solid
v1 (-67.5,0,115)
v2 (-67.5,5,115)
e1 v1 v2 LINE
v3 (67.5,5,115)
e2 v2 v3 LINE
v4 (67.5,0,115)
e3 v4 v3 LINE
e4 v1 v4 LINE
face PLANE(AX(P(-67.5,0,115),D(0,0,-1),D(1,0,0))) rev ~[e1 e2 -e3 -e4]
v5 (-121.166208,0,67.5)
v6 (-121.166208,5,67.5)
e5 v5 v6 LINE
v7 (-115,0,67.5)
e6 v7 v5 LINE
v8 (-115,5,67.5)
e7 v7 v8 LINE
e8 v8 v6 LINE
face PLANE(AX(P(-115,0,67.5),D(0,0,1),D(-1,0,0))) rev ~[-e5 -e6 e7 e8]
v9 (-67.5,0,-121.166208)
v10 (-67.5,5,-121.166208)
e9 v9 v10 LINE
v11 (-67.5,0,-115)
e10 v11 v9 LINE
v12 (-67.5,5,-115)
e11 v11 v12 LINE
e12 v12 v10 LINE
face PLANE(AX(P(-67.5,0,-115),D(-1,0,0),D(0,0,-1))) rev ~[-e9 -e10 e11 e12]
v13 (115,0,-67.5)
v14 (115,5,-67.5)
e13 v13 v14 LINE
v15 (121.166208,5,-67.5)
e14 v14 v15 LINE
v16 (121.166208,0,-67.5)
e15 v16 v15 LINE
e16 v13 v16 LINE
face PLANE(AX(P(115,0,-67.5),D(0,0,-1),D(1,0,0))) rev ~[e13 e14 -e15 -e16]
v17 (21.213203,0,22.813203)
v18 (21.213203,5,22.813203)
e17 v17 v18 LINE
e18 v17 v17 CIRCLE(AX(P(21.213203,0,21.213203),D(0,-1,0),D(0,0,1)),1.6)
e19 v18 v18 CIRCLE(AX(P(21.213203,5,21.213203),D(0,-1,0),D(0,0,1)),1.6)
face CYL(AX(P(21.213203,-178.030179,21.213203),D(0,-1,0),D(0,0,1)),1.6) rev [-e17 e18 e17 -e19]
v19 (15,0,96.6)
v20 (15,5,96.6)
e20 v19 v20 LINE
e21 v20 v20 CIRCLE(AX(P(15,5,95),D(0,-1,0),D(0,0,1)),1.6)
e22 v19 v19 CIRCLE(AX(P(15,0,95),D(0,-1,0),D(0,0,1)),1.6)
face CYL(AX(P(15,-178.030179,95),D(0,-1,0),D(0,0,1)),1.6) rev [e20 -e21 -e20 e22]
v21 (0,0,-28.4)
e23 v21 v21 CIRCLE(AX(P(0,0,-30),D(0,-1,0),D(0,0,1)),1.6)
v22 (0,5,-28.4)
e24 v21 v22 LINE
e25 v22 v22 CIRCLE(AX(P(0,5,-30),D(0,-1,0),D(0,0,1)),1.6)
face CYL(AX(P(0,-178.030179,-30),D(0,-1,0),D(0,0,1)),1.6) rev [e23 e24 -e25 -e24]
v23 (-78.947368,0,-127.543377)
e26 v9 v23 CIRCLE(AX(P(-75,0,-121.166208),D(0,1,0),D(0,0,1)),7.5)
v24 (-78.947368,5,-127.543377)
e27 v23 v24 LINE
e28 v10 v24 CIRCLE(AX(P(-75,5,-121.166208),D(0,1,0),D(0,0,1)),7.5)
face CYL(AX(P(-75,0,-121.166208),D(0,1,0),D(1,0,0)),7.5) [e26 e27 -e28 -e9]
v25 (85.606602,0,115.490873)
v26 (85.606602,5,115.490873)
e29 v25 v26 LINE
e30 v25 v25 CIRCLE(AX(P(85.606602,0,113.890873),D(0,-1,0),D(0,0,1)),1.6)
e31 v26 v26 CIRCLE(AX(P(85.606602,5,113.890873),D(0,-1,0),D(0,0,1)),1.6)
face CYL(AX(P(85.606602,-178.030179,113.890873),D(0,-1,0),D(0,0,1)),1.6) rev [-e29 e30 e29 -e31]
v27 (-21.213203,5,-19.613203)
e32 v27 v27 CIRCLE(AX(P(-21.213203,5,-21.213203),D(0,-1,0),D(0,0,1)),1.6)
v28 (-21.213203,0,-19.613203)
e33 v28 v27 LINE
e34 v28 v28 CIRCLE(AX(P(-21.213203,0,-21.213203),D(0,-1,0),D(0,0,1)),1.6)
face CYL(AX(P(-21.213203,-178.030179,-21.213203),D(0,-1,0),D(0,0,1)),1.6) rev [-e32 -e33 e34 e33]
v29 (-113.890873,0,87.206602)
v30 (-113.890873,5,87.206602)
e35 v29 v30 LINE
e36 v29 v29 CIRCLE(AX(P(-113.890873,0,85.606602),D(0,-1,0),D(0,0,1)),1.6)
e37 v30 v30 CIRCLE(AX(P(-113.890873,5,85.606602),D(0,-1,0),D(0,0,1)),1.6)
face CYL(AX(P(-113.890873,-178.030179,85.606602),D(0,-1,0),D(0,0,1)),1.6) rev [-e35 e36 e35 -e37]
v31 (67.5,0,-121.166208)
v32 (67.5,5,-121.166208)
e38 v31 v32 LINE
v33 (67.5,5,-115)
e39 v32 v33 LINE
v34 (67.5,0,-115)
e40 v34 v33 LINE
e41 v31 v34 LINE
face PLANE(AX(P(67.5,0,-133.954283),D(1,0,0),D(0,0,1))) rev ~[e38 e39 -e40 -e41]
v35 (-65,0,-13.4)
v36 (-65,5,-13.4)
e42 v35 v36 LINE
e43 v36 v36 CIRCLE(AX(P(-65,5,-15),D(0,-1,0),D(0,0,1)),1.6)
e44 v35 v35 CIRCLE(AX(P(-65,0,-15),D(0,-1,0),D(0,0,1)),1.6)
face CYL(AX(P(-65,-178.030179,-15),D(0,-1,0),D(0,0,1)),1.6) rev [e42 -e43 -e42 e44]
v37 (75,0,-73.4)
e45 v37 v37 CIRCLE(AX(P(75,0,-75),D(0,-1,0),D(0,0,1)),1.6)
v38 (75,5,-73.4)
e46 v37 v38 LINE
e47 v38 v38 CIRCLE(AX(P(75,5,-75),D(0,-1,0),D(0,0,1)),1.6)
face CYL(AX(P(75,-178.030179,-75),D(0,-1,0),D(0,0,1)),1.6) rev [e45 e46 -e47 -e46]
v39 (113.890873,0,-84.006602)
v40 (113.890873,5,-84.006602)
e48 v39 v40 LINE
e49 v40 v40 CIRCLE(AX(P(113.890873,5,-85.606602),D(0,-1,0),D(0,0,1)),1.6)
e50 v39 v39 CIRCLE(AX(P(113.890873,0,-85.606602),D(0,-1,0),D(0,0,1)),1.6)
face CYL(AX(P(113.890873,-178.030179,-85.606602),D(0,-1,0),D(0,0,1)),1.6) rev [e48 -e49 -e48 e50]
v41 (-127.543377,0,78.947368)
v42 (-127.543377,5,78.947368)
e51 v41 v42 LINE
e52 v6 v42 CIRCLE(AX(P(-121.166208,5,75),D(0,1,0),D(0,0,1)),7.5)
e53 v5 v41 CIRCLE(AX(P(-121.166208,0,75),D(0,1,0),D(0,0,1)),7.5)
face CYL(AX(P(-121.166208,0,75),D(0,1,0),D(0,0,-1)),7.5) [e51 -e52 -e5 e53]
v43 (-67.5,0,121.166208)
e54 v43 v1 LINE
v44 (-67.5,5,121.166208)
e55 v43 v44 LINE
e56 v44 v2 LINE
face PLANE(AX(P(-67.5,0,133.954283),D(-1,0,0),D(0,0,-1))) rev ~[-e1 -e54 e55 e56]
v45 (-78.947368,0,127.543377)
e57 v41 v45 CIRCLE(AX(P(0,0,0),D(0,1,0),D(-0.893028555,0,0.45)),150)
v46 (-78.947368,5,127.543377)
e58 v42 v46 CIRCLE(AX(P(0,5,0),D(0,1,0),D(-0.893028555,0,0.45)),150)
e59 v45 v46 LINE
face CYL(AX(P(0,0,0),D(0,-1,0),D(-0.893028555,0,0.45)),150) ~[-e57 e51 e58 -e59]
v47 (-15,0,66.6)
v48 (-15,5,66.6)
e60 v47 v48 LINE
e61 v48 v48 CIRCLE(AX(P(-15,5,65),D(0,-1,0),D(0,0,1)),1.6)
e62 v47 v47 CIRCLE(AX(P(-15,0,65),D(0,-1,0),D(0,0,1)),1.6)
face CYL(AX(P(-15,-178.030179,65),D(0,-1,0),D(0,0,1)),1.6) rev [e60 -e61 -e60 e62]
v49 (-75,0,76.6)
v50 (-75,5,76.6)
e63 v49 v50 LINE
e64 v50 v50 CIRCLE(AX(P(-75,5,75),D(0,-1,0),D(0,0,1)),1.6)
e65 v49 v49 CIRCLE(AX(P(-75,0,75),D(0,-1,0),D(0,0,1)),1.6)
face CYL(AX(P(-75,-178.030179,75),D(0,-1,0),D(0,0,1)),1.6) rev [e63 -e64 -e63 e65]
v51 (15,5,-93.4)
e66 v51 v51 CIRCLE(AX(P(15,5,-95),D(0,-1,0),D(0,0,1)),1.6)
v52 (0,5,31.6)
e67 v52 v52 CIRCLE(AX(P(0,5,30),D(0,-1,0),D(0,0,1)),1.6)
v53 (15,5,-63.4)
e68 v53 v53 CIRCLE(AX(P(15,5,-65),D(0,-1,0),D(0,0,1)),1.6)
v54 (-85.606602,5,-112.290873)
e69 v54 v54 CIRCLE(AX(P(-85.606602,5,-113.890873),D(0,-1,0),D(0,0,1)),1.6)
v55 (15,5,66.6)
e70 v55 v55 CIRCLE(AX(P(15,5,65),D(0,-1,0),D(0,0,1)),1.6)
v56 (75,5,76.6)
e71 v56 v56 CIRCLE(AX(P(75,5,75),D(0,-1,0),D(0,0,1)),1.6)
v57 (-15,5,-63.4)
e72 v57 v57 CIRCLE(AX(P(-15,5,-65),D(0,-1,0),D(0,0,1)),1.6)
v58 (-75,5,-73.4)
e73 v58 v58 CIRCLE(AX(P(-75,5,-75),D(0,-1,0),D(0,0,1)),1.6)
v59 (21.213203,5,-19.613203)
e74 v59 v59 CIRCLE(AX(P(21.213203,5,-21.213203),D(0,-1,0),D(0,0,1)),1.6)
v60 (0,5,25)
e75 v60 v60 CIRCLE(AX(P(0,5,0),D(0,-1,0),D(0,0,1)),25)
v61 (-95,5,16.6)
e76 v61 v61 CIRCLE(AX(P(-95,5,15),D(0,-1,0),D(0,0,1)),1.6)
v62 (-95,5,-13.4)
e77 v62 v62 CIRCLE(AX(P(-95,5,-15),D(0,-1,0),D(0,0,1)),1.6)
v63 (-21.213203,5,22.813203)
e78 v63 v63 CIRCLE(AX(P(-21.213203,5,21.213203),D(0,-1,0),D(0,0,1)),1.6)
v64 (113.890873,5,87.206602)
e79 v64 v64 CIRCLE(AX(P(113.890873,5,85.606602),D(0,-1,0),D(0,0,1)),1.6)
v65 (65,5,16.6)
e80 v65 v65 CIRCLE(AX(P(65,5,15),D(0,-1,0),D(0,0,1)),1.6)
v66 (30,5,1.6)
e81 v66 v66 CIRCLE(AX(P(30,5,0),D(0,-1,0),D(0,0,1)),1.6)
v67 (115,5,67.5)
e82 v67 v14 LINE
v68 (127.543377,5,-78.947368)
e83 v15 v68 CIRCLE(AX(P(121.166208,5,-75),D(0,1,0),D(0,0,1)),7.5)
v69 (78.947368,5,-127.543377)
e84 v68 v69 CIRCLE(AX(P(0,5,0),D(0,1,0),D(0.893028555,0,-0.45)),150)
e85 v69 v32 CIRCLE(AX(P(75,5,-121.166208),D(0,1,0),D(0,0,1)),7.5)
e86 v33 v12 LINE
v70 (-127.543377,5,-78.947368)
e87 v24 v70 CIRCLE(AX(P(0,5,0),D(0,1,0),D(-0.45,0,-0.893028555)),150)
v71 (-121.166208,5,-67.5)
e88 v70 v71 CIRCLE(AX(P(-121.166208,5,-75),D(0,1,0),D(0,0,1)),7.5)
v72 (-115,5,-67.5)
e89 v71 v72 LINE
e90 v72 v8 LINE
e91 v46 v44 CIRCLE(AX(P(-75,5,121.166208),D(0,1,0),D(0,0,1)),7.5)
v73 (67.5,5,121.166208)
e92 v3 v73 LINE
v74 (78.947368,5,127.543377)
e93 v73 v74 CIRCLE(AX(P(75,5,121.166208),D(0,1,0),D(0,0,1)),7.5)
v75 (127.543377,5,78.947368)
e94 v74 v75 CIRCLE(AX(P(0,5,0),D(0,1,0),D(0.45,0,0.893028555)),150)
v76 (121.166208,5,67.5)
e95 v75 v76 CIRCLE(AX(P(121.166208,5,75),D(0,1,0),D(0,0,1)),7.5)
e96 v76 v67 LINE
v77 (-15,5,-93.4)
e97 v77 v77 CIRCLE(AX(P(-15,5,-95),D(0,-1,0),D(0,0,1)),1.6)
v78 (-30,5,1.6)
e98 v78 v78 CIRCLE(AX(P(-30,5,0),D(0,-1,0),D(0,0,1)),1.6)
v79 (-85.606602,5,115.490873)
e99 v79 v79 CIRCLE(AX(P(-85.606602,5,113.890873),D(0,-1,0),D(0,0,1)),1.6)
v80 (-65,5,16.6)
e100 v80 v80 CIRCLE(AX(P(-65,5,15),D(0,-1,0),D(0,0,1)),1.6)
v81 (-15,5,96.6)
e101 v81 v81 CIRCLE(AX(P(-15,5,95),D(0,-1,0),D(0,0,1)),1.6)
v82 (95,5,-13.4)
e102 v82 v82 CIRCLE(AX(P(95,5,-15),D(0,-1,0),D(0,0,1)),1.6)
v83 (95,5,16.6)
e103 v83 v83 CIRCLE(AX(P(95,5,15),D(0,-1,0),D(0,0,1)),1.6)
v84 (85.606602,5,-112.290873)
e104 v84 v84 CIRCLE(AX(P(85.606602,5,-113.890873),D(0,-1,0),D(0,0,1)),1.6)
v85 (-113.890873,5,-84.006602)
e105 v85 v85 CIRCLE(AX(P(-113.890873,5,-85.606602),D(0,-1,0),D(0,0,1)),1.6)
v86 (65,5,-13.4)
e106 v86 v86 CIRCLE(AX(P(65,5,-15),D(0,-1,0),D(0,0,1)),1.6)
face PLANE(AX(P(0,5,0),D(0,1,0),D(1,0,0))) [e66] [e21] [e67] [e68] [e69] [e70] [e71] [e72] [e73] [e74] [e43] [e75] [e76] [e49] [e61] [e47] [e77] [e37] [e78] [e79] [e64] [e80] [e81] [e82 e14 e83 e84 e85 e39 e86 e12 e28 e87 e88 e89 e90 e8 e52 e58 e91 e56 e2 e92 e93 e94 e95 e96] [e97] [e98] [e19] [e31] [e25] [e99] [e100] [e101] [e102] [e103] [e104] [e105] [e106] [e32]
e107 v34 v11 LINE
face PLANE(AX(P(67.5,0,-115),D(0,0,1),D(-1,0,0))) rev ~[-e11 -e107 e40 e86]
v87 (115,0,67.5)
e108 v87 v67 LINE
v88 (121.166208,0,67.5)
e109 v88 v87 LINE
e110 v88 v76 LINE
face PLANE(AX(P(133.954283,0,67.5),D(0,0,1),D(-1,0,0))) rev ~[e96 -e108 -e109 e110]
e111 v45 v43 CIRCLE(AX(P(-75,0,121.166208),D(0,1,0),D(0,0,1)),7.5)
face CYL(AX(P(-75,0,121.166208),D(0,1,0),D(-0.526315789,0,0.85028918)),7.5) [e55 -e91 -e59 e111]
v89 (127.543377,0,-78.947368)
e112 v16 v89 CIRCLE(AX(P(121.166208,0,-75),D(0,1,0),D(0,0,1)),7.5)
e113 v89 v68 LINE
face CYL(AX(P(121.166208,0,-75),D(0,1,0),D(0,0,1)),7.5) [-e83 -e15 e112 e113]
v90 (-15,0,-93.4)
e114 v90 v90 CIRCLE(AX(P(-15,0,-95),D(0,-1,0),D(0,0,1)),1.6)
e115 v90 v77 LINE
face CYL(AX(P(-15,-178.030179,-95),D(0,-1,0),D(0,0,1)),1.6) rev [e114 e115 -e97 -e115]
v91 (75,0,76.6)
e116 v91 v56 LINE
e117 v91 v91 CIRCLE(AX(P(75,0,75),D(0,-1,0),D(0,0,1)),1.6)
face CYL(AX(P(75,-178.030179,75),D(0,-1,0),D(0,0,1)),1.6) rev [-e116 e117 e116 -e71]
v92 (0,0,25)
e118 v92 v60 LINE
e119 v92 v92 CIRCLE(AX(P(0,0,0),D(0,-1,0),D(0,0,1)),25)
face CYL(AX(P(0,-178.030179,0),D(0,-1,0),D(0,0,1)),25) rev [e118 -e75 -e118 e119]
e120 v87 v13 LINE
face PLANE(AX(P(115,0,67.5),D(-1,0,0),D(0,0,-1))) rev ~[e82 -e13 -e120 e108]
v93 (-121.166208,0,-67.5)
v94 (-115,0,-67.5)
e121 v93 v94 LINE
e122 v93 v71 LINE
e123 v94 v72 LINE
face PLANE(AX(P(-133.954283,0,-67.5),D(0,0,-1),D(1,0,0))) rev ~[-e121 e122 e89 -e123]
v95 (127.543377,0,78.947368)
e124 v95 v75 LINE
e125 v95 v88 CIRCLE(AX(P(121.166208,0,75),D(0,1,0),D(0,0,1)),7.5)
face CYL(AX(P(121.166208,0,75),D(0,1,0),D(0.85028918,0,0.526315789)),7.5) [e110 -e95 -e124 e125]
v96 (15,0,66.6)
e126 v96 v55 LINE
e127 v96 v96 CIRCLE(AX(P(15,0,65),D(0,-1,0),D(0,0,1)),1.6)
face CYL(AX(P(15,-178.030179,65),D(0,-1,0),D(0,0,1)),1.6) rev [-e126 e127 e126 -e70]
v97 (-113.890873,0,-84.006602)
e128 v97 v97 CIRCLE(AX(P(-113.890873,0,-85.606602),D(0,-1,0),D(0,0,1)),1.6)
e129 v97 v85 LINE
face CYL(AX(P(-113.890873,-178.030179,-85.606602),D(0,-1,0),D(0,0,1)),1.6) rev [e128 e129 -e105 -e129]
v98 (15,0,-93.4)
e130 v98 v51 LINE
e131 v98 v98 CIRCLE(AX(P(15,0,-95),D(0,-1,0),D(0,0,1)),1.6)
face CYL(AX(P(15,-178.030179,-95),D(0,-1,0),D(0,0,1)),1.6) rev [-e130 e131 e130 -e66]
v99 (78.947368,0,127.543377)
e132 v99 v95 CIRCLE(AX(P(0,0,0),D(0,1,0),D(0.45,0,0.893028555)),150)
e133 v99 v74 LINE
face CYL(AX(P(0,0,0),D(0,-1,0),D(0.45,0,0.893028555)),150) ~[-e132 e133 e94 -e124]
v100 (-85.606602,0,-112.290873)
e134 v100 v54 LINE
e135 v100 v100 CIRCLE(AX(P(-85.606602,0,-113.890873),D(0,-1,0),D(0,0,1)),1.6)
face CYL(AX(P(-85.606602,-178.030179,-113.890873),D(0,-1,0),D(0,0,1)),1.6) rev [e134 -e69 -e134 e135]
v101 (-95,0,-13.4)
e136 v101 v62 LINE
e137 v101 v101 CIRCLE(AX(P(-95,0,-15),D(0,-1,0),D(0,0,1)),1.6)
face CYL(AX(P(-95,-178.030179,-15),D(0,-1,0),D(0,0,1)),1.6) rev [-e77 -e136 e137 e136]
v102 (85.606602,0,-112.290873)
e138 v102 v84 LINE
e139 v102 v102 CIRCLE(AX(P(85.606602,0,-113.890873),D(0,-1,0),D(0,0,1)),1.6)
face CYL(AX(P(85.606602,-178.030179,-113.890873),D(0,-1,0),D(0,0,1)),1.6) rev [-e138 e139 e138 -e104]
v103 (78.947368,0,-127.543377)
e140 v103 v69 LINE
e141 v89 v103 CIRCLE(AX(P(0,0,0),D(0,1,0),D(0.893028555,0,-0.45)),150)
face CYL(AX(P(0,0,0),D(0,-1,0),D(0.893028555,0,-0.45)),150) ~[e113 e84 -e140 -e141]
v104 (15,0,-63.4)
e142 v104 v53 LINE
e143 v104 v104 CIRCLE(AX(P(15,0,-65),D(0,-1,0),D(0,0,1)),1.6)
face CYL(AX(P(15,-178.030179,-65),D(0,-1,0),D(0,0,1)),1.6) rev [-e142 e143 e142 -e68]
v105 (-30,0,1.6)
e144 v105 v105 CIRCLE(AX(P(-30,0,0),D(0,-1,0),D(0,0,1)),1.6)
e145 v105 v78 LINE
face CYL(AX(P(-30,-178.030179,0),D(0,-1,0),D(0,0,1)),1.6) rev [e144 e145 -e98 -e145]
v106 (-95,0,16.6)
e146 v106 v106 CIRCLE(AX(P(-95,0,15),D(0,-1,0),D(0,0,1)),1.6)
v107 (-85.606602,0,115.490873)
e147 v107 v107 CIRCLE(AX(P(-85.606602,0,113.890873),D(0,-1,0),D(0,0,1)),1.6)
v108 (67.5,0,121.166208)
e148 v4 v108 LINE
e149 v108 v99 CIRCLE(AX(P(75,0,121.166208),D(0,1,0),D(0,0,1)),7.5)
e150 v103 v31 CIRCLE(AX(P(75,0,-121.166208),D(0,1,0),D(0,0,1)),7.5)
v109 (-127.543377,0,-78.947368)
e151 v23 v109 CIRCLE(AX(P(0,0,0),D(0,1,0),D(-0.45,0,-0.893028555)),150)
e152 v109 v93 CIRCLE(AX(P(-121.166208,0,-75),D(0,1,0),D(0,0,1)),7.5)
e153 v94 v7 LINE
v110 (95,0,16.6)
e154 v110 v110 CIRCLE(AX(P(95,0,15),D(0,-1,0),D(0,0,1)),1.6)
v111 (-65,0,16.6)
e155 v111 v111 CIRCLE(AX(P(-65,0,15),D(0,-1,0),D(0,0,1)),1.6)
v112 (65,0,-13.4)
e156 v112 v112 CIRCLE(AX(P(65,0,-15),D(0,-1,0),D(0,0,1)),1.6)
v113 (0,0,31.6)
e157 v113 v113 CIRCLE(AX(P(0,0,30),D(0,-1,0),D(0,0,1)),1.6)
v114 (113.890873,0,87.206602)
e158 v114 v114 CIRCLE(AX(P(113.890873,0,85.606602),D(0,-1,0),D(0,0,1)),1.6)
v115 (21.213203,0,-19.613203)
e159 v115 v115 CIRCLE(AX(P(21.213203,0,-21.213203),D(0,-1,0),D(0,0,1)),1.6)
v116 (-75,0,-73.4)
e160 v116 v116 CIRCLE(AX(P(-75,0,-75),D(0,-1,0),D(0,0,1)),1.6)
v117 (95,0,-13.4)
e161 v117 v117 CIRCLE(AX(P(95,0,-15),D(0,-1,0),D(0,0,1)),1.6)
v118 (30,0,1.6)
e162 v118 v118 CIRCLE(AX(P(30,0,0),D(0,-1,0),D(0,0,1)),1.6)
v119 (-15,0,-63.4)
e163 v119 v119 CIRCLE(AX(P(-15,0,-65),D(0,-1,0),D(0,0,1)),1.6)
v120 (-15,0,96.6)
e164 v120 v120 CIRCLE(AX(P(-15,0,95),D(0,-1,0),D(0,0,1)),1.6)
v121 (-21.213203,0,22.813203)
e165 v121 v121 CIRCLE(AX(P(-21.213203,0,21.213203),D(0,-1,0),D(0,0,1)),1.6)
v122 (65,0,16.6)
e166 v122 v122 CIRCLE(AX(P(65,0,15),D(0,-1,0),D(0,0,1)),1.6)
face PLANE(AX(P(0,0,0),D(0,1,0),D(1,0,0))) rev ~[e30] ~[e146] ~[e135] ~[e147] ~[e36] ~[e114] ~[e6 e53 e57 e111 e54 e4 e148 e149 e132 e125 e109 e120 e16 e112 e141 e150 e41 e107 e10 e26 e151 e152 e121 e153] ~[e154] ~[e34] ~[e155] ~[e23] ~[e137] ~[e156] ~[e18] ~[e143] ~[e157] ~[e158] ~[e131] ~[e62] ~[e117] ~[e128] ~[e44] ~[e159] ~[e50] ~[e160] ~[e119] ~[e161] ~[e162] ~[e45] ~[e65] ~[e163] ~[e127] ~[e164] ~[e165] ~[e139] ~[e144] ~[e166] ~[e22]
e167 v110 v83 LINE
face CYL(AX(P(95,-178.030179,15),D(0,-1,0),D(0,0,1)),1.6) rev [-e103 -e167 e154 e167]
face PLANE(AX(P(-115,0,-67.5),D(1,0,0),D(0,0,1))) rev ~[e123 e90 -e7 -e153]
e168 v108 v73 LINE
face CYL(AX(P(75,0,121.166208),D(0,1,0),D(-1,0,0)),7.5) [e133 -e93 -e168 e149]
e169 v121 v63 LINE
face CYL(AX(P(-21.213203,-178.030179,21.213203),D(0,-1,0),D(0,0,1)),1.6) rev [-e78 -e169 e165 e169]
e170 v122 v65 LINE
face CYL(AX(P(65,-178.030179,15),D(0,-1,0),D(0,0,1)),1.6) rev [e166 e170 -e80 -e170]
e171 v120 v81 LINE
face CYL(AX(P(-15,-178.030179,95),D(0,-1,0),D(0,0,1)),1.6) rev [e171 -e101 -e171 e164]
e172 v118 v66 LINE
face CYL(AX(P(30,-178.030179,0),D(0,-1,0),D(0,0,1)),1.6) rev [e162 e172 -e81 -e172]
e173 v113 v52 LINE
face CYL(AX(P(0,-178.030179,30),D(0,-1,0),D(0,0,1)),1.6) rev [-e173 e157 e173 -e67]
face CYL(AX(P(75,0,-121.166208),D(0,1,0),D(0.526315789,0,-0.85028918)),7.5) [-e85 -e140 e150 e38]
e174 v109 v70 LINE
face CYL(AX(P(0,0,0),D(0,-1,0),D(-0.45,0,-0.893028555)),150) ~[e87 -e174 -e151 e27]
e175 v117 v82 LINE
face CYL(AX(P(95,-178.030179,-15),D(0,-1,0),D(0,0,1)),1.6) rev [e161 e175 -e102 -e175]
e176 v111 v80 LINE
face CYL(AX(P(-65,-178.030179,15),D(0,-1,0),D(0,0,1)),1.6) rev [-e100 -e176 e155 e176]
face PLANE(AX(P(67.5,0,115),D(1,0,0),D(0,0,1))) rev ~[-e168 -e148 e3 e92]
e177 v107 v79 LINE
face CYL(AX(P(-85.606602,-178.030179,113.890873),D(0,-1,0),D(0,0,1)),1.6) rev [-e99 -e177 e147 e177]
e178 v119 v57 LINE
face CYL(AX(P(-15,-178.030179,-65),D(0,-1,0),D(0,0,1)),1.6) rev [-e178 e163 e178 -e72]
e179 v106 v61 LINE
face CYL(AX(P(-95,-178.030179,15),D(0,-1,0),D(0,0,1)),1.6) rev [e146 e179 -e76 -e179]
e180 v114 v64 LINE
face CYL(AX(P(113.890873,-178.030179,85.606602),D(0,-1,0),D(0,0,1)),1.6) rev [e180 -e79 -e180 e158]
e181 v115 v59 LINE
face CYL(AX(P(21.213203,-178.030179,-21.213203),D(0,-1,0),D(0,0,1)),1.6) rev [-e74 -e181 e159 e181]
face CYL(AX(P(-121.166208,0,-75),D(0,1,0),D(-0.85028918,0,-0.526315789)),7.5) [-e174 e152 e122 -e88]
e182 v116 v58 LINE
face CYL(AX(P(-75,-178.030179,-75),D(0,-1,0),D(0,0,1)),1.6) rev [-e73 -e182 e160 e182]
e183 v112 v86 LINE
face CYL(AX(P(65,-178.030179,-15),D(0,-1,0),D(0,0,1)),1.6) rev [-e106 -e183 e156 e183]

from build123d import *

# Parameters (mm, degrees)
BOSS_EXTRUDE1_DEPTH     = 5
FILLET1_R               = 7.5
CUT_EXTRUDE2_DEPTH      = 183.030179489
CUT_EXTRUDE2_DEPTH_BACK = 183.030179489
SKETCH3_R               = 1.6
CUT_EXTRUDE3_DEPTH      = 183.030179489
CUT_EXTRUDE3_DEPTH_BACK = 183.030179489
SKETCH4_R               = 25
SKETCH4_R_2             = 1.6
CUT_EXTRUDE4_DEPTH      = 183.030179489
CUT_EXTRUDE4_DEPTH_BACK = 183.030179489
SKETCH5_R               = 1.6
CUT_EXTRUDE5_DEPTH      = 183.030179489
CUT_EXTRUDE5_DEPTH_BACK = 183.030179489
SKETCH6_R               = 1.6


with BuildPart() as part:
    # Sketch1 → Boss-Extrude1 (new body)
    with BuildSketch(Plane(origin=(0, 0, 0), x_dir=(1, 0, 0), z_dir=(0, 1, 0))):
        with BuildLine():
            Line((115, 67.5), (133.954283246, 67.5))
            ThreePointArc((133.954283246, 67.5), (106.066017178, 106.066017178), (67.5, 133.954283246))
            Line((67.5, 133.954283246), (67.5, 115))
            Line((67.5, 115), (-67.5, 115))
            Line((-67.5, 115), (-67.5, 133.954283246))
            ThreePointArc((-67.5, 133.954283246), (-106.066017178, 106.066017178), (-133.954283246, 67.5))
            Line((-133.954283246, 67.5), (-115, 67.5))
            Line((-115, 67.5), (-115, -67.5))
            Line((-115, -67.5), (-133.954283246, -67.5))
            ThreePointArc((-133.954283246, -67.5), (-106.066017178, -106.066017178), (-67.5, -133.954283246))
            Line((-67.5, -133.954283246), (-67.5, -115))
            Line((-67.5, -115), (67.5, -115))
            Line((67.5, -115), (67.5, -133.954283246))
            ThreePointArc((67.5, -133.954283246), (106.066017178, -106.066017178), (133.954283246, -67.5))
            Line((133.954283246, -67.5), (115, -67.5))
            Line((115, -67.5), (115, 67.5))
        make_face()
    extrude(amount=BOSS_EXTRUDE1_DEPTH)

    # Fillet1
    fillet1_edges = [part.edges().sort_by_distance(p)[0] for p in [
        (-67.5, 2.5, 133.954283246),
        (-133.954283246, 2.5, 67.5),
        (-133.954283246, 2.5, -67.5),
        (-67.5, 2.5, -133.954283246),
        (67.5, 2.5, -133.954283246),
        (133.954283246, 2.5, -67.5),
        (133.954283246, 2.5, 67.5),
        (67.5, 2.5, 133.954283246),
    ]]
    fillet(fillet1_edges, radius=FILLET1_R)

    # Sketch3 → Cut-Extrude2 (cut, two sides: drawn at the far end of the back side and taken through both)
    with BuildSketch(Plane(origin=(0, 5, 0), x_dir=(1, 0, 0), z_dir=(0, 1, 0)).offset(-CUT_EXTRUDE2_DEPTH_BACK)):
        with Locations(Location((-15, -95, 0), (0, 0, 270))):
            Circle(SKETCH3_R)
        with Locations(Location((-15, -65, 0), (0, 0, 270))):
            Circle(SKETCH3_R)
        with Locations(Location((15, -65, 0), (0, 0, 270))):
            Circle(SKETCH3_R)
        with Locations(Location((15, -95, 0), (0, 0, 270))):
            Circle(SKETCH3_R)
        with Locations(Location((-65, 15, 0), (0, 0, 270))):
            Circle(SKETCH3_R)
        with Locations(Location((-65, -15, 0), (0, 0, 270))):
            Circle(SKETCH3_R)
        with Locations(Location((-95, -15, 0), (0, 0, 270))):
            Circle(SKETCH3_R)
        with Locations(Location((-95, 15, 0), (0, 0, 270))):
            Circle(SKETCH3_R)
        with Locations(Location((15, 65, 0), (0, 0, 270))):
            Circle(SKETCH3_R)
        with Locations(Location((-15, 65, 0), (0, 0, 270))):
            Circle(SKETCH3_R)
        with Locations(Location((-15, 95, 0), (0, 0, 270))):
            Circle(SKETCH3_R)
        with Locations(Location((15, 95, 0), (0, 0, 270))):
            Circle(SKETCH3_R)
        with Locations(Location((65, -15, 0), (0, 0, 270))):
            Circle(SKETCH3_R)
        with Locations(Location((65, 15, 0), (0, 0, 270))):
            Circle(SKETCH3_R)
        with Locations(Location((95, 15, 0), (0, 0, 270))):
            Circle(SKETCH3_R)
        with Locations(Location((95, -15, 0), (0, 0, 270))):
            Circle(SKETCH3_R)
    extrude(amount=CUT_EXTRUDE2_DEPTH + CUT_EXTRUDE2_DEPTH_BACK, mode=Mode.SUBTRACT)

    # Sketch4 → Cut-Extrude3 (cut, two sides: drawn at the far end of the back side and taken through both)
    with BuildSketch(Plane(origin=(0, 5, 0), x_dir=(1, 0, 0), z_dir=(0, 1, 0)).offset(-CUT_EXTRUDE3_DEPTH_BACK)):
        with Locations(Location((0, 0, 0), (0, 0, 270))):
            Circle(SKETCH4_R)
        with Locations(Location((0, 30, 0), (0, 0, 270))):
            Circle(SKETCH4_R_2)
        with Locations(Location((21.213203436, 21.213203436, 0), (0, 0, 270))):
            Circle(SKETCH4_R_2)
        with Locations(Location((30, 0, 0), (0, 0, 270))):
            Circle(SKETCH4_R_2)
        with Locations(Location((21.213203436, -21.213203436, 0), (0, 0, 270))):
            Circle(SKETCH4_R_2)
        with Locations(Location((0, -30, 0), (0, 0, 270))):
            Circle(SKETCH4_R_2)
        with Locations(Location((-21.213203436, -21.213203436, 0), (0, 0, 270))):
            Circle(SKETCH4_R_2)
        with Locations(Location((-30, 0, 0), (0, 0, 270))):
            Circle(SKETCH4_R_2)
        with Locations(Location((-21.213203436, 21.213203436, 0), (0, 0, 270))):
            Circle(SKETCH4_R_2)
    extrude(amount=CUT_EXTRUDE3_DEPTH + CUT_EXTRUDE3_DEPTH_BACK, mode=Mode.SUBTRACT)

    # Sketch5 → Cut-Extrude4 (cut, two sides: drawn at the far end of the back side and taken through both)
    with BuildSketch(Plane(origin=(0, 5, 0), x_dir=(1, 0, 0), z_dir=(0, 1, 0)).offset(-CUT_EXTRUDE4_DEPTH_BACK)):
        with Locations(Location((75, -75, 0), (0, 0, 270))):
            Circle(SKETCH5_R)
        with Locations(Location((-75, -75, 0), (0, 0, 270))):
            Circle(SKETCH5_R)
        with Locations(Location((75, 75, 0), (0, 0, 270))):
            Circle(SKETCH5_R)
        with Locations(Location((-75, 75, 0), (0, 0, 270))):
            Circle(SKETCH5_R)
    extrude(amount=CUT_EXTRUDE4_DEPTH + CUT_EXTRUDE4_DEPTH_BACK, mode=Mode.SUBTRACT)

    # Sketch6 → Cut-Extrude5 (cut, two sides: drawn at the far end of the back side and taken through both)
    with BuildSketch(Plane(origin=(0, 5, 0), x_dir=(1, 0, 0), z_dir=(0, 1, 0)).offset(-CUT_EXTRUDE5_DEPTH_BACK)):
        with Locations(Location((-113.890872965, -85.606601718, 0), (0, 0, 270))):
            Circle(SKETCH6_R)
        with Locations(Location((-85.606601718, -113.890872965, 0), (0, 0, 270))):
            Circle(SKETCH6_R)
        with Locations(Location((-113.890872965, 85.606601718, 0), (0, 0, 270))):
            Circle(SKETCH6_R)
        with Locations(Location((-85.606601718, 113.890872965, 0), (0, 0, 270))):
            Circle(SKETCH6_R)
        with Locations(Location((85.606601718, 113.890872965, 0), (0, 0, 270))):
            Circle(SKETCH6_R)
        with Locations(Location((113.890872965, 85.606601718, 0), (0, 0, 270))):
            Circle(SKETCH6_R)
        with Locations(Location((113.890872965, -85.606601718, 0), (0, 0, 270))):
            Circle(SKETCH6_R)
        with Locations(Location((85.606601718, -113.890872965, 0), (0, 0, 270))):
            Circle(SKETCH6_R)
    extrude(amount=CUT_EXTRUDE5_DEPTH + CUT_EXTRUDE5_DEPTH_BACK, mode=Mode.SUBTRACT)


solid = part.part
